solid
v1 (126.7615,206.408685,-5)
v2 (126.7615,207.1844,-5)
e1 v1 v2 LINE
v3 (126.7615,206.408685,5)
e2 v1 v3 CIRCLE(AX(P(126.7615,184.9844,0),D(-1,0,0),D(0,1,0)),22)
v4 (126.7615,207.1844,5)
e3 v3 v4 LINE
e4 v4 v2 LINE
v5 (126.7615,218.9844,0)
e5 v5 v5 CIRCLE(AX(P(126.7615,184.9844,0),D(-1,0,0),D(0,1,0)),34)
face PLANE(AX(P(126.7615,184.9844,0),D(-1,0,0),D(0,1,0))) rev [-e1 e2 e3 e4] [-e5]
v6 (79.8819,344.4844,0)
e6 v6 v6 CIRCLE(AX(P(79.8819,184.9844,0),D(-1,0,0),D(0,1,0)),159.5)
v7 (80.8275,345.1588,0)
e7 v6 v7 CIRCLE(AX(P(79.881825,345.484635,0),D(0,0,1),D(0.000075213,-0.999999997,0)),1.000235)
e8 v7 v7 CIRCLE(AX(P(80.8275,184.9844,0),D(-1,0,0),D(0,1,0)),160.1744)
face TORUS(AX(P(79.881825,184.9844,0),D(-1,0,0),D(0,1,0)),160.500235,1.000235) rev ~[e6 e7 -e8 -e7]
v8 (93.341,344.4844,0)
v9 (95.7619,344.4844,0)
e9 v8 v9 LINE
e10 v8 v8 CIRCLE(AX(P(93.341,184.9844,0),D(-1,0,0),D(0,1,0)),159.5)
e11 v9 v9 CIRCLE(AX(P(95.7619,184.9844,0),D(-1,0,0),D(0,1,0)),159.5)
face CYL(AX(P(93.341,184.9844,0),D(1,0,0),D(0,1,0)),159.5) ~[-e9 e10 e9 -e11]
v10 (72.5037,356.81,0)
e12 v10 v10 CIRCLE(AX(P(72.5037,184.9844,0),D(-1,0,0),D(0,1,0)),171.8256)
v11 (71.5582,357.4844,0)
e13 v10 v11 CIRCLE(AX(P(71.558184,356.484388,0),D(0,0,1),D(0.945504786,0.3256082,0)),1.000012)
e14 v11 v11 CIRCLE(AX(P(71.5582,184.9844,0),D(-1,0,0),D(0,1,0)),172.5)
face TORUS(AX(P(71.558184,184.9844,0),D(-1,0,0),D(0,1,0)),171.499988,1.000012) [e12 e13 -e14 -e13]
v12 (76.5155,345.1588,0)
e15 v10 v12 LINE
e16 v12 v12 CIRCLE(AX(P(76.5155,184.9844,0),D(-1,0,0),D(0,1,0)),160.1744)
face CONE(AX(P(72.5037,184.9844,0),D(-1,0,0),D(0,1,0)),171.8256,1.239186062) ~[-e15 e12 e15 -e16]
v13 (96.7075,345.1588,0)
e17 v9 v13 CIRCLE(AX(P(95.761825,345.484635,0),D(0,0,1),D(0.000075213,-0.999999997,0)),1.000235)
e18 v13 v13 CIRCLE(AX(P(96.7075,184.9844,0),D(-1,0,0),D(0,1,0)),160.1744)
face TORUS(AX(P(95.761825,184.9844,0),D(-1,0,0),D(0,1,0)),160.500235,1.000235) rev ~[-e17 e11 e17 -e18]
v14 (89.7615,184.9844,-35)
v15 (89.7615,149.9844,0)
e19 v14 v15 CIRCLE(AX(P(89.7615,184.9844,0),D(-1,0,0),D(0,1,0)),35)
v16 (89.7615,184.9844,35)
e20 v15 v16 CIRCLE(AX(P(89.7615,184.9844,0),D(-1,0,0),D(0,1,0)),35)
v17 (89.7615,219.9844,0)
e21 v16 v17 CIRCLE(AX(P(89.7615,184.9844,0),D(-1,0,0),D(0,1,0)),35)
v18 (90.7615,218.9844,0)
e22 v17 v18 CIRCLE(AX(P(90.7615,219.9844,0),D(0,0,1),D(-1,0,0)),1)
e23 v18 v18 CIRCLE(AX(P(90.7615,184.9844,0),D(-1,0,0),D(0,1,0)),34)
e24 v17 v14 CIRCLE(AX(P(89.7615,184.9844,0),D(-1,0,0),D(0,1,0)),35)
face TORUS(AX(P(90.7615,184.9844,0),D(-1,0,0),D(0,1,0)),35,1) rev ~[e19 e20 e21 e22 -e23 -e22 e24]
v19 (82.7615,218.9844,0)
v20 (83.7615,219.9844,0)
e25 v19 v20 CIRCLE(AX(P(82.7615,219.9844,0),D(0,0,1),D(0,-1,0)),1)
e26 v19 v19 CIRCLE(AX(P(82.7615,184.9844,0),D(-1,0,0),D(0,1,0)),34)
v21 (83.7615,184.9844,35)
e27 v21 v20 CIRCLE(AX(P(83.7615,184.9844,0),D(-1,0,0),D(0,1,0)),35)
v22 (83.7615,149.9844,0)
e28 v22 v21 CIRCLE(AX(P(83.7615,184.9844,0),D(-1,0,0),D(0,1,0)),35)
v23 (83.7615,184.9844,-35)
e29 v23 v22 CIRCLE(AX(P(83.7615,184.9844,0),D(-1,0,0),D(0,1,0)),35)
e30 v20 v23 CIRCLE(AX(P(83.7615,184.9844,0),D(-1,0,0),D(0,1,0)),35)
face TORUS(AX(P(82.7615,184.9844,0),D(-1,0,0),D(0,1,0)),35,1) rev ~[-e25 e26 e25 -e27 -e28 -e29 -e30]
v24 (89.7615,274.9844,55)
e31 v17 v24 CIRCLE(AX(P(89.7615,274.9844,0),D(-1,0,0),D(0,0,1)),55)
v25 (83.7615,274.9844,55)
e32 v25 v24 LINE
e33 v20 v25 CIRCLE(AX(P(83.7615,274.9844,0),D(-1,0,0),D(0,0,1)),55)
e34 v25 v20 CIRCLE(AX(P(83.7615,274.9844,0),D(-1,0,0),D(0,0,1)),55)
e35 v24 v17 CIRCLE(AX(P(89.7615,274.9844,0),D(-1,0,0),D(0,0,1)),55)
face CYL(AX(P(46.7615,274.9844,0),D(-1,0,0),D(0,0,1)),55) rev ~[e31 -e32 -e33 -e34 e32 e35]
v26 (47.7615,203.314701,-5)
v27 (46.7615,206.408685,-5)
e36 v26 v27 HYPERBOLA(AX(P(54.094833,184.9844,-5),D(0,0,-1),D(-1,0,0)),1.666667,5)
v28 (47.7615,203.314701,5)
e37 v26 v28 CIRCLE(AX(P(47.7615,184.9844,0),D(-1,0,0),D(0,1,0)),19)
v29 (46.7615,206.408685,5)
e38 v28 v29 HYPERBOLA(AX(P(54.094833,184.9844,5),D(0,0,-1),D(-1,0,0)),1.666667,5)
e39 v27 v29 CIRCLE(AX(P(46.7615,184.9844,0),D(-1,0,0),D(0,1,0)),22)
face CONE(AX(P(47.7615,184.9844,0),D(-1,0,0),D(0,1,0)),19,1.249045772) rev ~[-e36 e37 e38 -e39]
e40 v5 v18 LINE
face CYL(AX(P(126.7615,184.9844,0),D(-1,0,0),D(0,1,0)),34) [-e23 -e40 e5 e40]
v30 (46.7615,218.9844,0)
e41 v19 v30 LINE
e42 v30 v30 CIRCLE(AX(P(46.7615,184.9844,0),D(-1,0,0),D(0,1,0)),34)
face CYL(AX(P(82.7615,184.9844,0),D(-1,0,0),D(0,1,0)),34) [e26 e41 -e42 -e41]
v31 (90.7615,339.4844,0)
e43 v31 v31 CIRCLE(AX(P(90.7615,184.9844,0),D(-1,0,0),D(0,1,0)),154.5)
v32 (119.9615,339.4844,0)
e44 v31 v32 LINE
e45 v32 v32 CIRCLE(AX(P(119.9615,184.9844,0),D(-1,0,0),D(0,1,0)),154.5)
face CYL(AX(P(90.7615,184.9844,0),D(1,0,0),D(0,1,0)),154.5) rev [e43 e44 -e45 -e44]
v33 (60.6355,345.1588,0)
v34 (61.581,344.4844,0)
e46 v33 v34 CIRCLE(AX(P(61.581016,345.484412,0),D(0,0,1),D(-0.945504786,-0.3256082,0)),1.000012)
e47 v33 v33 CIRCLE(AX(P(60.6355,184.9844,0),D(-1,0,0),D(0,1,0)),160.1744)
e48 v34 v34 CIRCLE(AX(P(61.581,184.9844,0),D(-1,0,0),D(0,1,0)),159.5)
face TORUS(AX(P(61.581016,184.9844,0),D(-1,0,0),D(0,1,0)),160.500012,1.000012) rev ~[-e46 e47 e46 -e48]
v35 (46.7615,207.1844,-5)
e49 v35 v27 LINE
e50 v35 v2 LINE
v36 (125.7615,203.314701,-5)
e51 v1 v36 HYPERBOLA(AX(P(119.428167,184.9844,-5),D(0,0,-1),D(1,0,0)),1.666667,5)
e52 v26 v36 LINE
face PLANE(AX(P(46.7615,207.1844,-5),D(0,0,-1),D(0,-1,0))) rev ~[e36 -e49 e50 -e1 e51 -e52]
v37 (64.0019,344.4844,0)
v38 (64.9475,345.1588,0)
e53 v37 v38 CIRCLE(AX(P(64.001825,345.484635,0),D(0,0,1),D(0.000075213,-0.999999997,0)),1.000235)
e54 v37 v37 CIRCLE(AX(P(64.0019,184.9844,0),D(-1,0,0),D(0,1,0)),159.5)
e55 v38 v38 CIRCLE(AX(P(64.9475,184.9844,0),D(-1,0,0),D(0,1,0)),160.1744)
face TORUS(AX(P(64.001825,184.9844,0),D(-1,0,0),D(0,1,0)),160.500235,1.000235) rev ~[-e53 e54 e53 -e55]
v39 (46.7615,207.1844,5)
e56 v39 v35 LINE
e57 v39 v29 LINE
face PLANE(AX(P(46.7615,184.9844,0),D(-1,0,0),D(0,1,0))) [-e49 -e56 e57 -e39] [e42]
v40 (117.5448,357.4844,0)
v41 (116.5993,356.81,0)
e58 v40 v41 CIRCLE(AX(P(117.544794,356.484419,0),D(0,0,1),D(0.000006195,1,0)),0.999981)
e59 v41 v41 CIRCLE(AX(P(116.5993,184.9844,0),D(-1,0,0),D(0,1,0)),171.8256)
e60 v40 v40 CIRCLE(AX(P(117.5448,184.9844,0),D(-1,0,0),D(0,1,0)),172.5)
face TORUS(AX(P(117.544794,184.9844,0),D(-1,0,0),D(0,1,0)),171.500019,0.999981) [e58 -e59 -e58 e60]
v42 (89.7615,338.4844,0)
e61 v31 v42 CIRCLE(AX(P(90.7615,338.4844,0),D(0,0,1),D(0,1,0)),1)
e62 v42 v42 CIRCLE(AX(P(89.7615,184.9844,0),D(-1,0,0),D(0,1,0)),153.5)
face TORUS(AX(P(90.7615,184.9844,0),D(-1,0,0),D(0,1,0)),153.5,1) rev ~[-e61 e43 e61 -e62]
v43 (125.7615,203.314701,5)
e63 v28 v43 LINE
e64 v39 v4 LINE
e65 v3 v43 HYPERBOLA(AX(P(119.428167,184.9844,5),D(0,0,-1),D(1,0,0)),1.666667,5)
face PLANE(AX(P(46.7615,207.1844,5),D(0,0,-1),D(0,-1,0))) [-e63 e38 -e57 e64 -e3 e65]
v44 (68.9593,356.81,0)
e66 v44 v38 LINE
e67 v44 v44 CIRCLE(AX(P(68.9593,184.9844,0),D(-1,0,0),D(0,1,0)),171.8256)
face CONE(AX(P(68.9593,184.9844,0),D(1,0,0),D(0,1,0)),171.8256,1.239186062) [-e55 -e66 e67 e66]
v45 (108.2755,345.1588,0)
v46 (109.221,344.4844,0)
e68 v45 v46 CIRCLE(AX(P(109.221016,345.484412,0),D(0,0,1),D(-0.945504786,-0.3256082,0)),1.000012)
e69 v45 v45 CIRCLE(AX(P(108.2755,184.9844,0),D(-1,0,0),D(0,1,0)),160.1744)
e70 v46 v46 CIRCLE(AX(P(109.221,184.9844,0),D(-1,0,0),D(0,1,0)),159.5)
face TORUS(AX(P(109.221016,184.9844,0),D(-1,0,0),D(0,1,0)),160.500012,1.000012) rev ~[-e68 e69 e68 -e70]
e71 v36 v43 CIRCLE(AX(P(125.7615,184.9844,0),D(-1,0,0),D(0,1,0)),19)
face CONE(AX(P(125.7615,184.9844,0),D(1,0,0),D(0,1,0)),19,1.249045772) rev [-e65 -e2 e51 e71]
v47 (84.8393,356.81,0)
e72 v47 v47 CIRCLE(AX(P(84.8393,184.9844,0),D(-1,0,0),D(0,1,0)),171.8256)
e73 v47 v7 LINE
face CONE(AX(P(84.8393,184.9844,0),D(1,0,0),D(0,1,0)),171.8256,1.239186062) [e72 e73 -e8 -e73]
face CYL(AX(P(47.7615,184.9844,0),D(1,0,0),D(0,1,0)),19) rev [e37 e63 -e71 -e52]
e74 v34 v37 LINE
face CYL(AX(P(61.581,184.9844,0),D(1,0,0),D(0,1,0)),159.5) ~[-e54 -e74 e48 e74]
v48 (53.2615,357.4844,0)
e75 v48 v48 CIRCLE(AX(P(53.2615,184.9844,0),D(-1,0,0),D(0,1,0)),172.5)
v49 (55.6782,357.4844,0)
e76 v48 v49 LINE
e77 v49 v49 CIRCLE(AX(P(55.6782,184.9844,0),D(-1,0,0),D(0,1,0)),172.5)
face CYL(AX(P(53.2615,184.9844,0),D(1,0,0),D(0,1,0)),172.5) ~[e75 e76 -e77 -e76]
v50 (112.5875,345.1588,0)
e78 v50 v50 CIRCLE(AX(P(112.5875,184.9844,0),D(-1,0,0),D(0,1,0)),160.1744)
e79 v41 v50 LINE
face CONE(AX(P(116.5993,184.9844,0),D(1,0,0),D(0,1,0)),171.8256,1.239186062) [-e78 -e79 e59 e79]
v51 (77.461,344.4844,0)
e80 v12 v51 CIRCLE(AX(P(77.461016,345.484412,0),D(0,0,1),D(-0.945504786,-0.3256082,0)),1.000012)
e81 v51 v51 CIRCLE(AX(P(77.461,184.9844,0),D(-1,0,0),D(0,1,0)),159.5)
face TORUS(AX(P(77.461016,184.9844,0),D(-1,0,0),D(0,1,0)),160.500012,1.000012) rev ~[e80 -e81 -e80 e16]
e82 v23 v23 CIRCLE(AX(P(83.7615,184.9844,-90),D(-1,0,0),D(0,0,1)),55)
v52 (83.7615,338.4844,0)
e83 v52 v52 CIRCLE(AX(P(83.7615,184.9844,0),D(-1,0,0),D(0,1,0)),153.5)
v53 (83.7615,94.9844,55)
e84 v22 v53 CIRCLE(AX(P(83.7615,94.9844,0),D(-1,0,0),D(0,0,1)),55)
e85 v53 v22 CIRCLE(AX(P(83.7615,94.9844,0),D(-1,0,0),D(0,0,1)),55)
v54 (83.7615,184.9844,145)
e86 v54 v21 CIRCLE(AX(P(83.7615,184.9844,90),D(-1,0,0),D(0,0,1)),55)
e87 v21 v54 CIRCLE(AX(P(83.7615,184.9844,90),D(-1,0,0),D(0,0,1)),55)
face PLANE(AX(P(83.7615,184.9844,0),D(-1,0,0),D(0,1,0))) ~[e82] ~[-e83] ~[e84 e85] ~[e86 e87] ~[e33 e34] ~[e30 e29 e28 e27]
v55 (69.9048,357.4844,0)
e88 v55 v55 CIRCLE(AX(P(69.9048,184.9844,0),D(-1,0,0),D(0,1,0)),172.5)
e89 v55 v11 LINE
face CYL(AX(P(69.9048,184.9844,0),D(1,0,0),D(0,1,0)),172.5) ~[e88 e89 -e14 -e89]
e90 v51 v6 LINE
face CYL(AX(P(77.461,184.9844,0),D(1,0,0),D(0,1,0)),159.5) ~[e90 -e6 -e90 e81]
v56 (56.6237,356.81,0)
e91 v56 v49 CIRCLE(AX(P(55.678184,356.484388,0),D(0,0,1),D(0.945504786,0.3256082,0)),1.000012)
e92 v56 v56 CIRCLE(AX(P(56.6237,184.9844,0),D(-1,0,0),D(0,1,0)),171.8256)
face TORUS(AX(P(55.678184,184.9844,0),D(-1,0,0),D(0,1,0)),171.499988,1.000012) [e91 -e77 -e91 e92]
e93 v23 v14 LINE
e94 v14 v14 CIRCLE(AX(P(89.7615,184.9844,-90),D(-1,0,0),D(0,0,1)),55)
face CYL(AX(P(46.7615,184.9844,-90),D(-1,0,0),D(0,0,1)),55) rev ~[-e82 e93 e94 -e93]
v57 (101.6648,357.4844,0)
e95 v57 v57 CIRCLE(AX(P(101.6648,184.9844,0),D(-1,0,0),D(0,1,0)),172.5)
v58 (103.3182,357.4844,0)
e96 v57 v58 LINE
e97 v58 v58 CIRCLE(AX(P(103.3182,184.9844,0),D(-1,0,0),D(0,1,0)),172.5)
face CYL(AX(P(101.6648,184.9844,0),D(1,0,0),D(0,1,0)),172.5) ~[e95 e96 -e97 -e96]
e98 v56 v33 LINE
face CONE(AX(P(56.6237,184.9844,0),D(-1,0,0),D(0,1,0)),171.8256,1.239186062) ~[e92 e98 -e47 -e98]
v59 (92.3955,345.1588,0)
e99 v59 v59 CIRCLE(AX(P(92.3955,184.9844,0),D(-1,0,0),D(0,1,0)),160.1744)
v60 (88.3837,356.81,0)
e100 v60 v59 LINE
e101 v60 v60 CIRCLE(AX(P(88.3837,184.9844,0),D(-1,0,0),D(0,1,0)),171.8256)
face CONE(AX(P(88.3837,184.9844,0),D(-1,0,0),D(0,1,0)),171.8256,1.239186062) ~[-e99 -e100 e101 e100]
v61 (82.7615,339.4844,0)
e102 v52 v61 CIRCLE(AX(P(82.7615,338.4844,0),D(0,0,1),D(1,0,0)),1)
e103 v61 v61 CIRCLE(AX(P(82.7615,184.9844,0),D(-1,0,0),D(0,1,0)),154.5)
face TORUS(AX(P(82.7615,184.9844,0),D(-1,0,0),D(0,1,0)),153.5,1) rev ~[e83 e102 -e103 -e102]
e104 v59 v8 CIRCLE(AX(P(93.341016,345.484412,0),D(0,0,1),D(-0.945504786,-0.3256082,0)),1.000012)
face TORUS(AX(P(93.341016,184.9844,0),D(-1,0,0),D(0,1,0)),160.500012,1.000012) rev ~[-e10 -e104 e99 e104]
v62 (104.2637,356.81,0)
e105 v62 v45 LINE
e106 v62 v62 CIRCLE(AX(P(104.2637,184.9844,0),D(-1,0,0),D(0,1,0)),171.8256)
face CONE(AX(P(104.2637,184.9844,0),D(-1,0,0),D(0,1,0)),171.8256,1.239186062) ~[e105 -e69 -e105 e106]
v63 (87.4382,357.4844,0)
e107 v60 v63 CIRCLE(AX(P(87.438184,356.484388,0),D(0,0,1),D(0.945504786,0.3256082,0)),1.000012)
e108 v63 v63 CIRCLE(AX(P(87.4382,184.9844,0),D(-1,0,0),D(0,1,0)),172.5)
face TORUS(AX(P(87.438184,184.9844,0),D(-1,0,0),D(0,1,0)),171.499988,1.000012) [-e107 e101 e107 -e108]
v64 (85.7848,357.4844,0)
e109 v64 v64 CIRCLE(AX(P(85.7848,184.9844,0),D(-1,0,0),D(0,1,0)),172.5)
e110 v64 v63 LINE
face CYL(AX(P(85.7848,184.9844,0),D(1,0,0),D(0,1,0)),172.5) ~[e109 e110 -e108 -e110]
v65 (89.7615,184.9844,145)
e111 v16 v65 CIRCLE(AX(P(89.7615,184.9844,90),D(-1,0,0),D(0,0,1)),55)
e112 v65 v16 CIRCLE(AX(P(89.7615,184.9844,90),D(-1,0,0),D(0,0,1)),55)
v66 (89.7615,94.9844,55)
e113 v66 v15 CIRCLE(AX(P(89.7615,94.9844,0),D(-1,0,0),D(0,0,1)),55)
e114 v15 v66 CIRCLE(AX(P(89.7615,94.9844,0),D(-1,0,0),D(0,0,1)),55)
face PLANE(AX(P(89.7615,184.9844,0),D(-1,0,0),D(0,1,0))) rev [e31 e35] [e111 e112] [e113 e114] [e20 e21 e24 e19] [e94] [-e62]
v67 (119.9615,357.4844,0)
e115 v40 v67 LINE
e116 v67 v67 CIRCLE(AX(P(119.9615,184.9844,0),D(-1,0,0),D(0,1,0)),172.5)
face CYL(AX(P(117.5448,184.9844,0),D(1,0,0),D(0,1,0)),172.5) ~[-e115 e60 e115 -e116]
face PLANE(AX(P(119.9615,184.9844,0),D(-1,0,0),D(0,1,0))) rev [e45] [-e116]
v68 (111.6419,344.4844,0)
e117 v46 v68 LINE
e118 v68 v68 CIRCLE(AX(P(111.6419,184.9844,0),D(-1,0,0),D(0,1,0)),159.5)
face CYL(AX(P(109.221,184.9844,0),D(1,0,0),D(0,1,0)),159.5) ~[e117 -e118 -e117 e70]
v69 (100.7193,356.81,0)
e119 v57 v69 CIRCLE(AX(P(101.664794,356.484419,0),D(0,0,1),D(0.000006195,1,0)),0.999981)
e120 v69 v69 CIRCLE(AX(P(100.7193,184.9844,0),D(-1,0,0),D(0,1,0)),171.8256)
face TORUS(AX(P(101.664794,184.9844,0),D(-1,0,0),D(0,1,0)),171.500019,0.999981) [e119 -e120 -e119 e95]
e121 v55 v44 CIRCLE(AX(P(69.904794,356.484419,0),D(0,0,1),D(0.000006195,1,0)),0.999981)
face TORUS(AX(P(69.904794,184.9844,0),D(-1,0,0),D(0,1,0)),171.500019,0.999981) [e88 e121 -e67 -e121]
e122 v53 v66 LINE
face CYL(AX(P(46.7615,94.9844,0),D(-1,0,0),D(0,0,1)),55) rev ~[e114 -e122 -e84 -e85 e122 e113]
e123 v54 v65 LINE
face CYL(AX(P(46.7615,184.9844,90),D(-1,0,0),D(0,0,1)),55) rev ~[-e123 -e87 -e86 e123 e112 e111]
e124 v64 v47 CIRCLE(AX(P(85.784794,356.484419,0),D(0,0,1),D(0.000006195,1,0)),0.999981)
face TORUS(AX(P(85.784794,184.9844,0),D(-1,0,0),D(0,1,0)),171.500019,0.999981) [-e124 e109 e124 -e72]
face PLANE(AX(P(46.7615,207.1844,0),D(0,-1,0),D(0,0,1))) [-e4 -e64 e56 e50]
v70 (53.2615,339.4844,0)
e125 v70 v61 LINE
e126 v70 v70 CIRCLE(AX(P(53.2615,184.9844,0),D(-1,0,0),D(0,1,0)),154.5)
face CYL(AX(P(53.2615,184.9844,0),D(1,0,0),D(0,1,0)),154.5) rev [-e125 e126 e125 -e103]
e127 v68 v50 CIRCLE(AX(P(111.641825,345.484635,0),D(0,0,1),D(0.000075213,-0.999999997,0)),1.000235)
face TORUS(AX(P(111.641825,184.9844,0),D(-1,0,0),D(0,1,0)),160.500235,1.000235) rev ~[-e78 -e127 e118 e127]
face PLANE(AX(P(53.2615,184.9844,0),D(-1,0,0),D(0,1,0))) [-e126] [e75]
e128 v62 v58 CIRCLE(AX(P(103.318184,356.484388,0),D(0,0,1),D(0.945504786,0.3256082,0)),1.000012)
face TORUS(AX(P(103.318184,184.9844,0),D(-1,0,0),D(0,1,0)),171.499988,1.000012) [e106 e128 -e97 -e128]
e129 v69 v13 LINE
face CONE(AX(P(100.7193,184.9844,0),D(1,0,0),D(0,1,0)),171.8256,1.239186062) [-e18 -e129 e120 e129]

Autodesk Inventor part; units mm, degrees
ref_plane "YZ Plane" through (0, 0, 0) normal (1, 0, 0) x (0, 1, 0)
ref_plane "XZ Plane" through (0, 0, 0) normal (0, 1, 0) x (-1, 0, 0)
ref_plane "XY Plane" through (0, 0, 0) normal (0, 0, 1) x (1, 0, 0)
sketch "Sketch1" plane through (0, 0, 0) normal (0, 0, 1) x (1, 0, 0)
  line L0 (68.9593, 13.1588) -> (64.9475, 24.81)
  line L1 (84.8393, 13.1588) -> (80.8275, 24.81)
  arc A0 (71.5582, 12.4844) -> (72.5037, 13.1588) centre (71.5582, 13.4844) ccw
  arc A1 (77.461, 25.4844) -> (76.5155, 24.81) centre (77.461, 24.4844) ccw
  line L2 (72.5037, 13.1588) -> (76.5155, 24.81)
  line L3 (56.6237, 13.1588) -> (60.6355, 24.81)
  arc A2 (82.7615, 30.4844) -> (83.7615, 31.4844) centre (82.7615, 31.4844) ccw
  arc A3 (82.7615, 30.4844) -> (83.7615, 31.4844) centre (82.7615, 31.4844) ccw
  arc A4 (80.8275, 24.81) -> (79.8819, 25.4844) centre (79.8819, 24.4844) ccw
  line L4 (69.9048, 12.4844) -> (71.5582, 12.4844)
  arc A5 (68.9593, 13.1588) -> (69.9048, 12.4844) centre (69.9048, 13.4844) ccw
  arc A6 (64.9475, 24.81) -> (64.0019, 25.4844) centre (64.0019, 24.4844) ccw
  line L5 (61.581, 25.4844) -> (64.0019, 25.4844)
  arc A7 (61.581, 25.4844) -> (60.6355, 24.81) centre (61.581, 24.4844) ccw
  arc A8 (55.6782, 12.4844) -> (56.6237, 13.1588) centre (55.6782, 13.4844) ccw
  line L6 (53.2615, 12.4844) -> (55.6782, 12.4844)
  line L7 (53.2615, 12.4844) -> (53.2615, 25.4844)
  line L8 (53.2615, 12.4844) -> (53.2615, 25.4844)
  line L9 (53.2615, 30.4844) -> (82.7615, 30.4844)
  line L10 (53.2615, 30.4844) -> (82.7615, 30.4844)
  line L11 (53.2615, 25.4844) -> (53.2615, 30.4844)
  line L12 (53.2615, 25.4844) -> (53.2615, 30.4844)
  line L13 (77.461, 25.4844) -> (79.8819, 25.4844)
  line L14 (83.7615, 149.9844) -> (83.7615, 31.4844)
  line L15 (89.7615, 149.9844) -> (89.7615, 31.4844)
  line L16 (83.7615, 149.9844) -> (83.7615, 31.4844)
  line L17 (89.7615, 149.9844) -> (89.7615, 31.4844)
  line L18 (68.9593, 356.81) -> (64.9475, 345.1588)
  line L19 (84.8393, 356.81) -> (80.8275, 345.1588)
  line L20 (88.3837, 356.81) -> (92.3955, 345.1588)
  arc A9 (72.5037, 356.81) -> (71.5582, 357.4844) centre (71.5582, 356.4844) ccw
  arc A10 (76.5155, 345.1588) -> (77.461, 344.4844) centre (77.461, 345.4844) ccw
  line L21 (53.2615, 339.4844) -> (82.7615, 339.4844)
  line L22 (53.2615, 339.4844) -> (82.7615, 339.4844)
  arc A11 (69.9048, 357.4844) -> (68.9593, 356.81) centre (69.9048, 356.4844) ccw
  line L23 (69.9048, 357.4844) -> (71.5582, 357.4844)
  line L24 (72.5037, 356.81) -> (76.5155, 345.1588)
  line L25 (77.461, 344.4844) -> (79.8819, 344.4844)
  arc A12 (79.8819, 344.4844) -> (80.8275, 345.1588) centre (79.8819, 345.4844) ccw
  arc A13 (85.7848, 357.4844) -> (84.8393, 356.81) centre (85.7848, 356.4844) ccw
  line L26 (85.7848, 357.4844) -> (87.4382, 357.4844)
  arc A14 (88.3837, 356.81) -> (87.4382, 357.4844) centre (87.4382, 356.4844) ccw
  arc A15 (83.7615, 338.4844) -> (82.7615, 339.4844) centre (82.7615, 338.4844) ccw
  arc A16 (90.7615, 339.4844) -> (89.7615, 338.4844) centre (90.7615, 338.4844) ccw
  arc A17 (90.7615, 339.4844) -> (89.7615, 338.4844) centre (90.7615, 338.4844) ccw
  arc A18 (83.7615, 338.4844) -> (82.7615, 339.4844) centre (82.7615, 338.4844) ccw
  line L27 (89.7615, 219.9844) -> (89.7615, 338.4844)
  line L28 (89.7615, 219.9844) -> (89.7615, 338.4844)
  line L29 (83.7615, 219.9844) -> (83.7615, 338.4844)
  line L30 (83.7615, 219.9844) -> (83.7615, 338.4844)
  arc A19 (82.7615, 218.9844) -> (83.7615, 219.9844) centre (82.7615, 219.9844) ccw
  arc A20 (82.7615, 218.9844) -> (83.7615, 219.9844) centre (82.7615, 219.9844) ccw
  arc A21 (89.7615, 219.9844) -> (90.7615, 218.9844) centre (90.7615, 219.9844) ccw
  arc A22 (89.7615, 219.9844) -> (90.7615, 218.9844) centre (90.7615, 219.9844) ccw
  line L31 (100.7193, 356.81) -> (96.7075, 345.1588)
  line L32 (104.2637, 356.81) -> (108.2755, 345.1588)
  line L33 (116.5993, 356.81) -> (112.5875, 345.1588)
  arc A23 (117.5448, 357.4844) -> (116.5993, 356.81) centre (117.5448, 356.4844) ccw
  line L34 (117.5448, 357.4844) -> (119.9615, 357.4844)
  arc A24 (101.6648, 357.4844) -> (100.7193, 356.81) centre (101.6648, 356.4844) ccw
  arc A25 (104.2637, 356.81) -> (103.3182, 357.4844) centre (103.3182, 356.4844) ccw
  line L35 (101.6648, 357.4844) -> (103.3182, 357.4844)
  arc A26 (108.2755, 345.1588) -> (109.221, 344.4844) centre (109.221, 345.4844) ccw
  arc A27 (111.6419, 344.4844) -> (112.5875, 345.1588) centre (111.6419, 345.4844) ccw
  line L36 (109.221, 344.4844) -> (111.6419, 344.4844)
  arc A28 (92.3955, 345.1588) -> (93.341, 344.4844) centre (93.341, 345.4844) ccw
  arc A29 (95.7619, 344.4844) -> (96.7075, 345.1588) centre (95.7619, 345.4844) ccw
  line L37 (93.341, 344.4844) -> (95.7619, 344.4844)
  line L38 (90.7615, 339.4844) -> (119.9615, 339.4844)
  line L39 (90.7615, 339.4844) -> (119.9615, 339.4844)
  line L40 (119.9615, 344.4844) -> (119.9615, 357.4844)
  line L41 (119.9615, 344.4844) -> (119.9615, 357.4844)
  line L42 (119.9615, 339.4844) -> (119.9615, 344.4844)
  line L43 (119.9615, 339.4844) -> (119.9615, 344.4844)
  line L44 (47.7615, 203.9844) -> (46.7615, 206.9844)
  line L45 (47.7615, 203.9844) -> (47.7615, 165.9844)
  line L46 (47.7615, 165.9844) -> (46.7615, 164.9844)
  line L47 (100.7193, 13.1588) -> (96.7075, 24.81)
  line L48 (88.3837, 13.1588) -> (92.3955, 24.81)
  line L49 (104.2637, 13.1588) -> (108.2755, 24.81)
  line L50 (116.5993, 13.1588) -> (112.5875, 24.81)
  arc A30 (116.5993, 13.1588) -> (117.5448, 12.4844) centre (117.5448, 13.4844) ccw
  line L51 (117.5448, 12.4844) -> (119.9615, 12.4844)
  arc A31 (100.7193, 13.1588) -> (101.6648, 12.4844) centre (101.6648, 13.4844) ccw
  arc A32 (103.3182, 12.4844) -> (104.2637, 13.1588) centre (103.3182, 13.4844) ccw
  line L52 (101.6648, 12.4844) -> (103.3182, 12.4844)
  arc A33 (84.8393, 13.1588) -> (85.7848, 12.4844) centre (85.7848, 13.4844) ccw
  line L53 (85.7848, 12.4844) -> (87.4382, 12.4844)
  arc A34 (87.4382, 12.4844) -> (88.3837, 13.1588) centre (87.4382, 13.4844) ccw
  arc A35 (89.7615, 31.4844) -> (90.7615, 30.4844) centre (90.7615, 31.4844) ccw
  arc A36 (89.7615, 31.4844) -> (90.7615, 30.4844) centre (90.7615, 31.4844) ccw
  arc A37 (93.341, 25.4844) -> (92.3955, 24.81) centre (93.341, 24.4844) ccw
  line L54 (93.341, 25.4844) -> (95.7619, 25.4844)
  arc A38 (96.7075, 24.81) -> (95.7619, 25.4844) centre (95.7619, 24.4844) ccw
  arc A39 (109.221, 25.4844) -> (108.2755, 24.81) centre (109.221, 24.4844) ccw
  line L55 (109.221, 25.4844) -> (111.6419, 25.4844)
  arc A40 (112.5875, 24.81) -> (111.6419, 25.4844) centre (111.6419, 24.4844) ccw
  line L56 (90.7615, 30.4844) -> (119.9615, 30.4844)
  line L57 (90.7615, 30.4844) -> (119.9615, 30.4844)
  line L58 (119.9615, 30.4844) -> (119.9615, 25.4844)
  line L59 (119.9615, 30.4844) -> (119.9615, 25.4844)
  line L60 (119.9615, 25.4844) -> (119.9615, 12.4844)
  line L61 (119.9615, 25.4844) -> (119.9615, 12.4844)
  arc A41 (64.0019, 344.4844) -> (64.9475, 345.1588) centre (64.0019, 345.4844) ccw
  line L62 (61.581, 344.4844) -> (64.0019, 344.4844)
  arc A42 (60.6355, 345.1588) -> (61.581, 344.4844) centre (61.581, 345.4844) ccw
  line L63 (53.2615, 344.4844) -> (53.2615, 339.4844)
  line L64 (53.2615, 344.4844) -> (53.2615, 339.4844)
  line L65 (56.6237, 356.81) -> (60.6355, 345.1588)
  arc A43 (56.6237, 356.81) -> (55.6782, 357.4844) centre (55.6782, 356.4844) ccw
  line L66 (53.2615, 357.4844) -> (55.6782, 357.4844)
  line L67 (53.2615, 357.4844) -> (53.2615, 344.4844)
  line L68 (53.2615, 357.4844) -> (53.2615, 344.4844)
  line L69 (46.7615, 218.9844) -> (46.7615, 150.9844)
  line L70 (82.7615, 218.9844) -> (46.7615, 218.9844)
  line L71 (82.7615, 218.9844) -> (46.7615, 218.9844)
  line L72 (82.7615, 150.9844) -> (46.7615, 150.9844)
  line L73 (82.7615, 150.9844) -> (46.7615, 150.9844)
  arc A44 (83.7615, 149.9844) -> (82.7615, 150.9844) centre (82.7615, 149.9844) ccw
  arc A45 (83.7615, 149.9844) -> (82.7615, 150.9844) centre (82.7615, 149.9844) ccw
  line L74 (125.7615, 165.9844) -> (47.7615, 165.9844)
  line L75 (47.7615, 203.9844) -> (125.7615, 203.9844)
  line L76 (46.7615, 206.9844) -> (126.7615, 206.9844)
  arc A46 (90.7615, 150.9844) -> (89.7615, 149.9844) centre (90.7615, 149.9844) ccw
  arc A47 (90.7615, 150.9844) -> (89.7615, 149.9844) centre (90.7615, 149.9844) ccw
  line L77 (125.7615, 203.9844) -> (126.7615, 206.9844)
  line L78 (126.7615, 218.9844) -> (90.7615, 218.9844)
  line L79 (126.7615, 218.9844) -> (90.7615, 218.9844)
  line L80 (125.7615, 165.9844) -> (125.7615, 203.9844)
  line L81 (126.7615, 150.9844) -> (90.7615, 150.9844)
  line L82 (126.7615, 150.9844) -> (90.7615, 150.9844)
  line L83 (125.7615, 165.9844) -> (126.7615, 164.9844)
  line L84 (126.7615, 150.9844) -> (126.7615, 218.9844)
  line L85 (130.2615, 184.9844) -> (43.5522, 184.9844)
  line L86 (343.2465, 11.6181) -> (339.2347, 23.2692)
  line L87 (359.1265, 11.6181) -> (355.1147, 23.2692)
  arc A48 (345.8454, 10.9436) -> (346.7909, 11.6181) centre (345.8454, 11.9436) ccw
  arc A49 (351.7483, 23.9436) -> (350.8027, 23.2692) centre (351.7483, 22.9436) ccw
  line L88 (346.7909, 11.6181) -> (350.8027, 23.2692)
  line L89 (330.9109, 11.6181) -> (334.9227, 23.2692)
  arc A50 (357.0487, 28.9436) -> (358.0487, 29.9436) centre (357.0487, 29.9436) ccw
  arc A51 (357.0487, 28.9436) -> (358.0487, 29.9436) centre (357.0487, 29.9436) ccw
  arc A52 (355.1147, 23.2692) -> (354.1692, 23.9436) centre (354.1692, 22.9436) ccw
  line L90 (344.192, 10.9436) -> (345.8454, 10.9436)
  arc A53 (343.2465, 11.6181) -> (344.192, 10.9436) centre (344.192, 11.9436) ccw
  arc A54 (339.2347, 23.2692) -> (338.2892, 23.9436) centre (338.2892, 22.9436) ccw
  line L91 (335.8683, 23.9436) -> (338.2892, 23.9436)
  arc A55 (335.8683, 23.9436) -> (334.9227, 23.2692) centre (335.8683, 22.9436) ccw
  arc A56 (329.9654, 10.9436) -> (330.9109, 11.6181) centre (329.9654, 11.9436) ccw
  line L92 (327.5487, 10.9436) -> (329.9654, 10.9436)
  line L93 (327.5487, 10.9436) -> (327.5487, 23.9436)
  line L94 (327.5487, 10.9436) -> (327.5487, 23.9436)
  line L95 (327.5487, 28.9436) -> (357.0487, 28.9436)
  line L96 (327.5487, 28.9436) -> (357.0487, 28.9436)
  line L97 (327.5487, 23.9436) -> (327.5487, 28.9436)
  line L98 (327.5487, 23.9436) -> (327.5487, 28.9436)
  line L99 (351.7483, 23.9436) -> (354.1692, 23.9436)
  line L100 (358.0487, 148.4436) -> (358.0487, 29.9436)
  line L101 (364.0487, 148.4436) -> (364.0487, 29.9436)
  line L102 (358.0487, 148.4436) -> (358.0487, 29.9436)
  line L103 (364.0487, 148.4436) -> (364.0487, 29.9436)
  line L104 (343.2465, 355.2692) -> (339.2347, 343.6181)
  line L105 (359.1265, 355.2692) -> (355.1147, 343.6181)
  line L106 (362.6709, 355.2692) -> (366.6827, 343.6181)
  arc A57 (346.7909, 355.2692) -> (345.8454, 355.9436) centre (345.8454, 354.9436) ccw
  arc A58 (350.8027, 343.6181) -> (351.7483, 342.9436) centre (351.7483, 343.9436) ccw
  line L107 (327.5487, 337.9436) -> (357.0487, 337.9436)
  line L108 (327.5487, 337.9436) -> (357.0487, 337.9436)
  arc A59 (344.192, 355.9436) -> (343.2465, 355.2692) centre (344.192, 354.9436) ccw
  line L109 (344.192, 355.9436) -> (345.8454, 355.9436)
  line L110 (346.7909, 355.2692) -> (350.8027, 343.6181)
  line L111 (351.7483, 342.9436) -> (354.1692, 342.9436)
  arc A60 (354.1692, 342.9436) -> (355.1147, 343.6181) centre (354.1692, 343.9436) ccw
  arc A61 (360.072, 355.9436) -> (359.1265, 355.2692) centre (360.072, 354.9436) ccw
  line L112 (360.072, 355.9436) -> (361.7254, 355.9436)
  arc A62 (362.6709, 355.2692) -> (361.7254, 355.9436) centre (361.7254, 354.9436) ccw
  arc A63 (358.0487, 336.9436) -> (357.0487, 337.9436) centre (357.0487, 336.9436) ccw
  arc A64 (365.0487, 337.9436) -> (364.0487, 336.9436) centre (365.0487, 336.9436) ccw
  arc A65 (365.0487, 337.9436) -> (364.0487, 336.9436) centre (365.0487, 336.9436) ccw
  arc A66 (358.0487, 336.9436) -> (357.0487, 337.9436) centre (357.0487, 336.9436) ccw
  line L113 (364.0487, 218.4436) -> (364.0487, 336.9436)
  line L114 (364.0487, 218.4436) -> (364.0487, 336.9436)
  line L115 (358.0487, 218.4436) -> (358.0487, 336.9436)
  line L116 (358.0487, 218.4436) -> (358.0487, 336.9436)
  arc A67 (357.0487, 217.4436) -> (358.0487, 218.4436) centre (357.0487, 218.4436) ccw
  arc A68 (357.0487, 217.4436) -> (358.0487, 218.4436) centre (357.0487, 218.4436) ccw
  arc A69 (364.0487, 218.4436) -> (365.0487, 217.4436) centre (365.0487, 218.4436) ccw
  arc A70 (364.0487, 218.4436) -> (365.0487, 217.4436) centre (365.0487, 218.4436) ccw
  line L117 (375.0065, 355.2692) -> (370.9947, 343.6181)
  line L118 (378.5509, 355.2692) -> (382.5627, 343.6181)
  line L119 (390.8865, 355.2692) -> (386.8747, 343.6181)
  arc A71 (391.832, 355.9436) -> (390.8865, 355.2692) centre (391.832, 354.9436) ccw
  line L120 (391.832, 355.9436) -> (394.2487, 355.9436)
  arc A72 (375.952, 355.9436) -> (375.0065, 355.2692) centre (375.952, 354.9436) ccw
  arc A73 (378.5509, 355.2692) -> (377.6054, 355.9436) centre (377.6054, 354.9436) ccw
  line L121 (375.952, 355.9436) -> (377.6054, 355.9436)
  arc A74 (382.5627, 343.6181) -> (383.5083, 342.9436) centre (383.5083, 343.9436) ccw
  arc A75 (385.9292, 342.9436) -> (386.8747, 343.6181) centre (385.9292, 343.9436) ccw
  line L122 (383.5083, 342.9436) -> (385.9292, 342.9436)
  arc A76 (366.6827, 343.6181) -> (367.6283, 342.9436) centre (367.6283, 343.9436) ccw
  arc A77 (370.0492, 342.9436) -> (370.9947, 343.6181) centre (370.0492, 343.9436) ccw
  line L123 (367.6283, 342.9436) -> (370.0492, 342.9436)
  line L124 (365.0487, 337.9436) -> (394.2487, 337.9436)
  line L125 (365.0487, 337.9436) -> (394.2487, 337.9436)
  line L126 (394.2487, 342.9436) -> (394.2487, 355.9436)
  line L127 (394.2487, 342.9436) -> (394.2487, 355.9436)
  line L128 (394.2487, 337.9436) -> (394.2487, 342.9436)
  line L129 (394.2487, 337.9436) -> (394.2487, 342.9436)
  line L130 (322.0487, 202.4436) -> (321.0487, 205.4436)
  line L131 (322.0487, 202.4436) -> (322.0487, 164.4436)
  line L132 (322.0487, 164.4436) -> (321.0487, 163.4436)
  line L133 (375.0065, 11.6181) -> (370.9947, 23.2692)
  line L134 (362.6709, 11.6181) -> (366.6827, 23.2692)
  line L135 (378.5509, 11.6181) -> (382.5627, 23.2692)
  line L136 (390.8865, 11.6181) -> (386.8747, 23.2692)
  arc A78 (390.8865, 11.6181) -> (391.832, 10.9436) centre (391.832, 11.9436) ccw
  line L137 (391.832, 10.9436) -> (394.2487, 10.9436)
  arc A79 (375.0065, 11.6181) -> (375.952, 10.9436) centre (375.952, 11.9436) ccw
  arc A80 (377.6054, 10.9436) -> (378.5509, 11.6181) centre (377.6054, 11.9436) ccw
  line L138 (375.952, 10.9436) -> (377.6054, 10.9436)
  arc A81 (359.1265, 11.6181) -> (360.072, 10.9436) centre (360.072, 11.9436) ccw
  line L139 (360.072, 10.9436) -> (361.7254, 10.9436)
  arc A82 (361.7254, 10.9436) -> (362.6709, 11.6181) centre (361.7254, 11.9436) ccw
  arc A83 (364.0487, 29.9436) -> (365.0487, 28.9436) centre (365.0487, 29.9436) ccw
  arc A84 (364.0487, 29.9436) -> (365.0487, 28.9436) centre (365.0487, 29.9436) ccw
  arc A85 (367.6283, 23.9436) -> (366.6827, 23.2692) centre (367.6283, 22.9436) ccw
  line L140 (367.6283, 23.9436) -> (370.0492, 23.9436)
  arc A86 (370.9947, 23.2692) -> (370.0492, 23.9436) centre (370.0492, 22.9436) ccw
  arc A87 (383.5083, 23.9436) -> (382.5627, 23.2692) centre (383.5083, 22.9436) ccw
  line L141 (383.5083, 23.9436) -> (385.9292, 23.9436)
  arc A88 (386.8747, 23.2692) -> (385.9292, 23.9436) centre (385.9292, 22.9436) ccw
  line L142 (365.0487, 28.9436) -> (394.2487, 28.9436)
  line L143 (365.0487, 28.9436) -> (394.2487, 28.9436)
  line L144 (394.2487, 28.9436) -> (394.2487, 23.9436)
  line L145 (394.2487, 28.9436) -> (394.2487, 23.9436)
  line L146 (394.2487, 23.9436) -> (394.2487, 10.9436)
  line L147 (394.2487, 23.9436) -> (394.2487, 10.9436)
  arc A89 (338.2892, 342.9436) -> (339.2347, 343.6181) centre (338.2892, 343.9436) ccw
  line L148 (335.8683, 342.9436) -> (338.2892, 342.9436)
  arc A90 (334.9227, 343.6181) -> (335.8683, 342.9436) centre (335.8683, 343.9436) ccw
  line L149 (327.5487, 342.9436) -> (327.5487, 337.9436)
  line L150 (327.5487, 342.9436) -> (327.5487, 337.9436)
  line L151 (330.9109, 355.2692) -> (334.9227, 343.6181)
  arc A91 (330.9109, 355.2692) -> (329.9654, 355.9436) centre (329.9654, 354.9436) ccw
  line L152 (327.5487, 355.9436) -> (329.9654, 355.9436)
  line L153 (327.5487, 355.9436) -> (327.5487, 342.9436)
  line L154 (327.5487, 355.9436) -> (327.5487, 342.9436)
  line L155 (321.0487, 217.4436) -> (321.0487, 149.4436)
  line L156 (357.0487, 217.4436) -> (321.0487, 217.4436)
  line L157 (357.0487, 217.4436) -> (321.0487, 217.4436)
  line L158 (357.0487, 149.4436) -> (321.0487, 149.4436)
  line L159 (357.0487, 149.4436) -> (321.0487, 149.4436)
  arc A92 (358.0487, 148.4436) -> (357.0487, 149.4436) centre (357.0487, 148.4436) ccw
  arc A93 (358.0487, 148.4436) -> (357.0487, 149.4436) centre (357.0487, 148.4436) ccw
  line L160 (400.0487, 164.4436) -> (322.0487, 164.4436)
  line L161 (322.0487, 202.4436) -> (400.0487, 202.4436)
  line L162 (321.0487, 205.4436) -> (401.0487, 205.4436)
  arc A94 (365.0487, 149.4436) -> (364.0487, 148.4436) centre (365.0487, 148.4436) ccw
  arc A95 (365.0487, 149.4436) -> (364.0487, 148.4436) centre (365.0487, 148.4436) ccw
  line L163 (400.0487, 202.4436) -> (401.0487, 205.4436)
  line L164 (401.0487, 217.4436) -> (365.0487, 217.4436)
  line L165 (401.0487, 217.4436) -> (365.0487, 217.4436)
  line L166 (400.0487, 164.4436) -> (400.0487, 202.4436)
  line L167 (401.0487, 149.4436) -> (365.0487, 149.4436)
  line L168 (401.0487, 149.4436) -> (365.0487, 149.4436)
  line L169 (400.0487, 164.4436) -> (401.0487, 163.4436)
  line L170 (401.0487, 149.4436) -> (401.0487, 217.4436)
  line L171 (404.5487, 183.4436) -> (317.8394, 183.4436)
  point P0 (0, 0)
  dimension "d1" = 80
  dimension "d3" = 1
  dimension "d5" = 38
  dimension "d7" = 68
  dimension "d9" = 38
  dimension "d11" = 13
  dimension "d13" = 80
  dimension "d15" = 1
  dimension "d17" = 38
  dimension "d19" = 68
  dimension "d21" = 38
  dimension "d23" = 13
revolve "Revolution1" add sketch "Sketch1" angle 360 about axis through (130.2615, 184.9844, 0) along (-1, 0, 0) contours L76 L77 L75 L44 | L69 L70 A19 L29 A15 L21 L63 L67 L66 A43 L65 A42 L62 A41 L18 A11 L23 A9 L24 A10 L25 A12 L19 A13 L26 A14 L20 A28 L37 A29 L31 A24 L35 A25 L32 A26 L36 A27 L33 A23 L34 L40 L42 L38 A16 L27 A21 L78 L84 L76
sketch "Sketch2" plane through (46.7615, 184.9844, 0) normal (-1, 0, 0) x (0, 0, 1)
  circle A0 centre (0, 0) radius 19 projected
  line L0 (0, 19) -> (0, 22.2)
  line L1 (0, 22.2) -> (5, 22.2)
  line L2 (5, 22.2) -> (5, 18.3303)
  line L3 (0, 22.2) -> (-5, 22.2)
  line L4 (-5, 22.2) -> (-5, 18.3303)
  point P0 (0, -184.9844)
  dimension "d25" = 3.2
  dimension "d26" = 5
  dimension "d27" = 5
extrude "Extrusion1" cut sketch "Sketch2" against normal through all contours A0 L0 L1 L2 | L4 L3 L0 A0
sketch "Sketch3" plane through (46.7615, 184.9844, 0) normal (-1, 0, 0) x (0, 0, 1)
  circle A0 centre (0, 0) radius 34 projected
  circle A1 centre (0, 0) radius 90
  line L0 (0, 0) -> (111, 0)
  circle A2 centre (90, 0) radius 55
  circle A3 centre (0, 90) radius 55
  circle A4 centre (-90, 0) radius 55
  circle A5 centre (0, -90) radius 55
  point P0 (0, -184.9844)
  dimension "d30" = 180
  dimension "d31" = 110
  dimension "d34" = 360
extrude "Extrusion2" cut sketch "Sketch3" against normal blind 1000 contours A2 A1 L0 | L0 A1 A2 | A1 A2 | A3 A1 | A1 A3 | A5 A1 | A1 A5 | A4 A1 | A1 A4
properties part number "Polia Movida sem alivio de peso" material "Iron, Cast"
